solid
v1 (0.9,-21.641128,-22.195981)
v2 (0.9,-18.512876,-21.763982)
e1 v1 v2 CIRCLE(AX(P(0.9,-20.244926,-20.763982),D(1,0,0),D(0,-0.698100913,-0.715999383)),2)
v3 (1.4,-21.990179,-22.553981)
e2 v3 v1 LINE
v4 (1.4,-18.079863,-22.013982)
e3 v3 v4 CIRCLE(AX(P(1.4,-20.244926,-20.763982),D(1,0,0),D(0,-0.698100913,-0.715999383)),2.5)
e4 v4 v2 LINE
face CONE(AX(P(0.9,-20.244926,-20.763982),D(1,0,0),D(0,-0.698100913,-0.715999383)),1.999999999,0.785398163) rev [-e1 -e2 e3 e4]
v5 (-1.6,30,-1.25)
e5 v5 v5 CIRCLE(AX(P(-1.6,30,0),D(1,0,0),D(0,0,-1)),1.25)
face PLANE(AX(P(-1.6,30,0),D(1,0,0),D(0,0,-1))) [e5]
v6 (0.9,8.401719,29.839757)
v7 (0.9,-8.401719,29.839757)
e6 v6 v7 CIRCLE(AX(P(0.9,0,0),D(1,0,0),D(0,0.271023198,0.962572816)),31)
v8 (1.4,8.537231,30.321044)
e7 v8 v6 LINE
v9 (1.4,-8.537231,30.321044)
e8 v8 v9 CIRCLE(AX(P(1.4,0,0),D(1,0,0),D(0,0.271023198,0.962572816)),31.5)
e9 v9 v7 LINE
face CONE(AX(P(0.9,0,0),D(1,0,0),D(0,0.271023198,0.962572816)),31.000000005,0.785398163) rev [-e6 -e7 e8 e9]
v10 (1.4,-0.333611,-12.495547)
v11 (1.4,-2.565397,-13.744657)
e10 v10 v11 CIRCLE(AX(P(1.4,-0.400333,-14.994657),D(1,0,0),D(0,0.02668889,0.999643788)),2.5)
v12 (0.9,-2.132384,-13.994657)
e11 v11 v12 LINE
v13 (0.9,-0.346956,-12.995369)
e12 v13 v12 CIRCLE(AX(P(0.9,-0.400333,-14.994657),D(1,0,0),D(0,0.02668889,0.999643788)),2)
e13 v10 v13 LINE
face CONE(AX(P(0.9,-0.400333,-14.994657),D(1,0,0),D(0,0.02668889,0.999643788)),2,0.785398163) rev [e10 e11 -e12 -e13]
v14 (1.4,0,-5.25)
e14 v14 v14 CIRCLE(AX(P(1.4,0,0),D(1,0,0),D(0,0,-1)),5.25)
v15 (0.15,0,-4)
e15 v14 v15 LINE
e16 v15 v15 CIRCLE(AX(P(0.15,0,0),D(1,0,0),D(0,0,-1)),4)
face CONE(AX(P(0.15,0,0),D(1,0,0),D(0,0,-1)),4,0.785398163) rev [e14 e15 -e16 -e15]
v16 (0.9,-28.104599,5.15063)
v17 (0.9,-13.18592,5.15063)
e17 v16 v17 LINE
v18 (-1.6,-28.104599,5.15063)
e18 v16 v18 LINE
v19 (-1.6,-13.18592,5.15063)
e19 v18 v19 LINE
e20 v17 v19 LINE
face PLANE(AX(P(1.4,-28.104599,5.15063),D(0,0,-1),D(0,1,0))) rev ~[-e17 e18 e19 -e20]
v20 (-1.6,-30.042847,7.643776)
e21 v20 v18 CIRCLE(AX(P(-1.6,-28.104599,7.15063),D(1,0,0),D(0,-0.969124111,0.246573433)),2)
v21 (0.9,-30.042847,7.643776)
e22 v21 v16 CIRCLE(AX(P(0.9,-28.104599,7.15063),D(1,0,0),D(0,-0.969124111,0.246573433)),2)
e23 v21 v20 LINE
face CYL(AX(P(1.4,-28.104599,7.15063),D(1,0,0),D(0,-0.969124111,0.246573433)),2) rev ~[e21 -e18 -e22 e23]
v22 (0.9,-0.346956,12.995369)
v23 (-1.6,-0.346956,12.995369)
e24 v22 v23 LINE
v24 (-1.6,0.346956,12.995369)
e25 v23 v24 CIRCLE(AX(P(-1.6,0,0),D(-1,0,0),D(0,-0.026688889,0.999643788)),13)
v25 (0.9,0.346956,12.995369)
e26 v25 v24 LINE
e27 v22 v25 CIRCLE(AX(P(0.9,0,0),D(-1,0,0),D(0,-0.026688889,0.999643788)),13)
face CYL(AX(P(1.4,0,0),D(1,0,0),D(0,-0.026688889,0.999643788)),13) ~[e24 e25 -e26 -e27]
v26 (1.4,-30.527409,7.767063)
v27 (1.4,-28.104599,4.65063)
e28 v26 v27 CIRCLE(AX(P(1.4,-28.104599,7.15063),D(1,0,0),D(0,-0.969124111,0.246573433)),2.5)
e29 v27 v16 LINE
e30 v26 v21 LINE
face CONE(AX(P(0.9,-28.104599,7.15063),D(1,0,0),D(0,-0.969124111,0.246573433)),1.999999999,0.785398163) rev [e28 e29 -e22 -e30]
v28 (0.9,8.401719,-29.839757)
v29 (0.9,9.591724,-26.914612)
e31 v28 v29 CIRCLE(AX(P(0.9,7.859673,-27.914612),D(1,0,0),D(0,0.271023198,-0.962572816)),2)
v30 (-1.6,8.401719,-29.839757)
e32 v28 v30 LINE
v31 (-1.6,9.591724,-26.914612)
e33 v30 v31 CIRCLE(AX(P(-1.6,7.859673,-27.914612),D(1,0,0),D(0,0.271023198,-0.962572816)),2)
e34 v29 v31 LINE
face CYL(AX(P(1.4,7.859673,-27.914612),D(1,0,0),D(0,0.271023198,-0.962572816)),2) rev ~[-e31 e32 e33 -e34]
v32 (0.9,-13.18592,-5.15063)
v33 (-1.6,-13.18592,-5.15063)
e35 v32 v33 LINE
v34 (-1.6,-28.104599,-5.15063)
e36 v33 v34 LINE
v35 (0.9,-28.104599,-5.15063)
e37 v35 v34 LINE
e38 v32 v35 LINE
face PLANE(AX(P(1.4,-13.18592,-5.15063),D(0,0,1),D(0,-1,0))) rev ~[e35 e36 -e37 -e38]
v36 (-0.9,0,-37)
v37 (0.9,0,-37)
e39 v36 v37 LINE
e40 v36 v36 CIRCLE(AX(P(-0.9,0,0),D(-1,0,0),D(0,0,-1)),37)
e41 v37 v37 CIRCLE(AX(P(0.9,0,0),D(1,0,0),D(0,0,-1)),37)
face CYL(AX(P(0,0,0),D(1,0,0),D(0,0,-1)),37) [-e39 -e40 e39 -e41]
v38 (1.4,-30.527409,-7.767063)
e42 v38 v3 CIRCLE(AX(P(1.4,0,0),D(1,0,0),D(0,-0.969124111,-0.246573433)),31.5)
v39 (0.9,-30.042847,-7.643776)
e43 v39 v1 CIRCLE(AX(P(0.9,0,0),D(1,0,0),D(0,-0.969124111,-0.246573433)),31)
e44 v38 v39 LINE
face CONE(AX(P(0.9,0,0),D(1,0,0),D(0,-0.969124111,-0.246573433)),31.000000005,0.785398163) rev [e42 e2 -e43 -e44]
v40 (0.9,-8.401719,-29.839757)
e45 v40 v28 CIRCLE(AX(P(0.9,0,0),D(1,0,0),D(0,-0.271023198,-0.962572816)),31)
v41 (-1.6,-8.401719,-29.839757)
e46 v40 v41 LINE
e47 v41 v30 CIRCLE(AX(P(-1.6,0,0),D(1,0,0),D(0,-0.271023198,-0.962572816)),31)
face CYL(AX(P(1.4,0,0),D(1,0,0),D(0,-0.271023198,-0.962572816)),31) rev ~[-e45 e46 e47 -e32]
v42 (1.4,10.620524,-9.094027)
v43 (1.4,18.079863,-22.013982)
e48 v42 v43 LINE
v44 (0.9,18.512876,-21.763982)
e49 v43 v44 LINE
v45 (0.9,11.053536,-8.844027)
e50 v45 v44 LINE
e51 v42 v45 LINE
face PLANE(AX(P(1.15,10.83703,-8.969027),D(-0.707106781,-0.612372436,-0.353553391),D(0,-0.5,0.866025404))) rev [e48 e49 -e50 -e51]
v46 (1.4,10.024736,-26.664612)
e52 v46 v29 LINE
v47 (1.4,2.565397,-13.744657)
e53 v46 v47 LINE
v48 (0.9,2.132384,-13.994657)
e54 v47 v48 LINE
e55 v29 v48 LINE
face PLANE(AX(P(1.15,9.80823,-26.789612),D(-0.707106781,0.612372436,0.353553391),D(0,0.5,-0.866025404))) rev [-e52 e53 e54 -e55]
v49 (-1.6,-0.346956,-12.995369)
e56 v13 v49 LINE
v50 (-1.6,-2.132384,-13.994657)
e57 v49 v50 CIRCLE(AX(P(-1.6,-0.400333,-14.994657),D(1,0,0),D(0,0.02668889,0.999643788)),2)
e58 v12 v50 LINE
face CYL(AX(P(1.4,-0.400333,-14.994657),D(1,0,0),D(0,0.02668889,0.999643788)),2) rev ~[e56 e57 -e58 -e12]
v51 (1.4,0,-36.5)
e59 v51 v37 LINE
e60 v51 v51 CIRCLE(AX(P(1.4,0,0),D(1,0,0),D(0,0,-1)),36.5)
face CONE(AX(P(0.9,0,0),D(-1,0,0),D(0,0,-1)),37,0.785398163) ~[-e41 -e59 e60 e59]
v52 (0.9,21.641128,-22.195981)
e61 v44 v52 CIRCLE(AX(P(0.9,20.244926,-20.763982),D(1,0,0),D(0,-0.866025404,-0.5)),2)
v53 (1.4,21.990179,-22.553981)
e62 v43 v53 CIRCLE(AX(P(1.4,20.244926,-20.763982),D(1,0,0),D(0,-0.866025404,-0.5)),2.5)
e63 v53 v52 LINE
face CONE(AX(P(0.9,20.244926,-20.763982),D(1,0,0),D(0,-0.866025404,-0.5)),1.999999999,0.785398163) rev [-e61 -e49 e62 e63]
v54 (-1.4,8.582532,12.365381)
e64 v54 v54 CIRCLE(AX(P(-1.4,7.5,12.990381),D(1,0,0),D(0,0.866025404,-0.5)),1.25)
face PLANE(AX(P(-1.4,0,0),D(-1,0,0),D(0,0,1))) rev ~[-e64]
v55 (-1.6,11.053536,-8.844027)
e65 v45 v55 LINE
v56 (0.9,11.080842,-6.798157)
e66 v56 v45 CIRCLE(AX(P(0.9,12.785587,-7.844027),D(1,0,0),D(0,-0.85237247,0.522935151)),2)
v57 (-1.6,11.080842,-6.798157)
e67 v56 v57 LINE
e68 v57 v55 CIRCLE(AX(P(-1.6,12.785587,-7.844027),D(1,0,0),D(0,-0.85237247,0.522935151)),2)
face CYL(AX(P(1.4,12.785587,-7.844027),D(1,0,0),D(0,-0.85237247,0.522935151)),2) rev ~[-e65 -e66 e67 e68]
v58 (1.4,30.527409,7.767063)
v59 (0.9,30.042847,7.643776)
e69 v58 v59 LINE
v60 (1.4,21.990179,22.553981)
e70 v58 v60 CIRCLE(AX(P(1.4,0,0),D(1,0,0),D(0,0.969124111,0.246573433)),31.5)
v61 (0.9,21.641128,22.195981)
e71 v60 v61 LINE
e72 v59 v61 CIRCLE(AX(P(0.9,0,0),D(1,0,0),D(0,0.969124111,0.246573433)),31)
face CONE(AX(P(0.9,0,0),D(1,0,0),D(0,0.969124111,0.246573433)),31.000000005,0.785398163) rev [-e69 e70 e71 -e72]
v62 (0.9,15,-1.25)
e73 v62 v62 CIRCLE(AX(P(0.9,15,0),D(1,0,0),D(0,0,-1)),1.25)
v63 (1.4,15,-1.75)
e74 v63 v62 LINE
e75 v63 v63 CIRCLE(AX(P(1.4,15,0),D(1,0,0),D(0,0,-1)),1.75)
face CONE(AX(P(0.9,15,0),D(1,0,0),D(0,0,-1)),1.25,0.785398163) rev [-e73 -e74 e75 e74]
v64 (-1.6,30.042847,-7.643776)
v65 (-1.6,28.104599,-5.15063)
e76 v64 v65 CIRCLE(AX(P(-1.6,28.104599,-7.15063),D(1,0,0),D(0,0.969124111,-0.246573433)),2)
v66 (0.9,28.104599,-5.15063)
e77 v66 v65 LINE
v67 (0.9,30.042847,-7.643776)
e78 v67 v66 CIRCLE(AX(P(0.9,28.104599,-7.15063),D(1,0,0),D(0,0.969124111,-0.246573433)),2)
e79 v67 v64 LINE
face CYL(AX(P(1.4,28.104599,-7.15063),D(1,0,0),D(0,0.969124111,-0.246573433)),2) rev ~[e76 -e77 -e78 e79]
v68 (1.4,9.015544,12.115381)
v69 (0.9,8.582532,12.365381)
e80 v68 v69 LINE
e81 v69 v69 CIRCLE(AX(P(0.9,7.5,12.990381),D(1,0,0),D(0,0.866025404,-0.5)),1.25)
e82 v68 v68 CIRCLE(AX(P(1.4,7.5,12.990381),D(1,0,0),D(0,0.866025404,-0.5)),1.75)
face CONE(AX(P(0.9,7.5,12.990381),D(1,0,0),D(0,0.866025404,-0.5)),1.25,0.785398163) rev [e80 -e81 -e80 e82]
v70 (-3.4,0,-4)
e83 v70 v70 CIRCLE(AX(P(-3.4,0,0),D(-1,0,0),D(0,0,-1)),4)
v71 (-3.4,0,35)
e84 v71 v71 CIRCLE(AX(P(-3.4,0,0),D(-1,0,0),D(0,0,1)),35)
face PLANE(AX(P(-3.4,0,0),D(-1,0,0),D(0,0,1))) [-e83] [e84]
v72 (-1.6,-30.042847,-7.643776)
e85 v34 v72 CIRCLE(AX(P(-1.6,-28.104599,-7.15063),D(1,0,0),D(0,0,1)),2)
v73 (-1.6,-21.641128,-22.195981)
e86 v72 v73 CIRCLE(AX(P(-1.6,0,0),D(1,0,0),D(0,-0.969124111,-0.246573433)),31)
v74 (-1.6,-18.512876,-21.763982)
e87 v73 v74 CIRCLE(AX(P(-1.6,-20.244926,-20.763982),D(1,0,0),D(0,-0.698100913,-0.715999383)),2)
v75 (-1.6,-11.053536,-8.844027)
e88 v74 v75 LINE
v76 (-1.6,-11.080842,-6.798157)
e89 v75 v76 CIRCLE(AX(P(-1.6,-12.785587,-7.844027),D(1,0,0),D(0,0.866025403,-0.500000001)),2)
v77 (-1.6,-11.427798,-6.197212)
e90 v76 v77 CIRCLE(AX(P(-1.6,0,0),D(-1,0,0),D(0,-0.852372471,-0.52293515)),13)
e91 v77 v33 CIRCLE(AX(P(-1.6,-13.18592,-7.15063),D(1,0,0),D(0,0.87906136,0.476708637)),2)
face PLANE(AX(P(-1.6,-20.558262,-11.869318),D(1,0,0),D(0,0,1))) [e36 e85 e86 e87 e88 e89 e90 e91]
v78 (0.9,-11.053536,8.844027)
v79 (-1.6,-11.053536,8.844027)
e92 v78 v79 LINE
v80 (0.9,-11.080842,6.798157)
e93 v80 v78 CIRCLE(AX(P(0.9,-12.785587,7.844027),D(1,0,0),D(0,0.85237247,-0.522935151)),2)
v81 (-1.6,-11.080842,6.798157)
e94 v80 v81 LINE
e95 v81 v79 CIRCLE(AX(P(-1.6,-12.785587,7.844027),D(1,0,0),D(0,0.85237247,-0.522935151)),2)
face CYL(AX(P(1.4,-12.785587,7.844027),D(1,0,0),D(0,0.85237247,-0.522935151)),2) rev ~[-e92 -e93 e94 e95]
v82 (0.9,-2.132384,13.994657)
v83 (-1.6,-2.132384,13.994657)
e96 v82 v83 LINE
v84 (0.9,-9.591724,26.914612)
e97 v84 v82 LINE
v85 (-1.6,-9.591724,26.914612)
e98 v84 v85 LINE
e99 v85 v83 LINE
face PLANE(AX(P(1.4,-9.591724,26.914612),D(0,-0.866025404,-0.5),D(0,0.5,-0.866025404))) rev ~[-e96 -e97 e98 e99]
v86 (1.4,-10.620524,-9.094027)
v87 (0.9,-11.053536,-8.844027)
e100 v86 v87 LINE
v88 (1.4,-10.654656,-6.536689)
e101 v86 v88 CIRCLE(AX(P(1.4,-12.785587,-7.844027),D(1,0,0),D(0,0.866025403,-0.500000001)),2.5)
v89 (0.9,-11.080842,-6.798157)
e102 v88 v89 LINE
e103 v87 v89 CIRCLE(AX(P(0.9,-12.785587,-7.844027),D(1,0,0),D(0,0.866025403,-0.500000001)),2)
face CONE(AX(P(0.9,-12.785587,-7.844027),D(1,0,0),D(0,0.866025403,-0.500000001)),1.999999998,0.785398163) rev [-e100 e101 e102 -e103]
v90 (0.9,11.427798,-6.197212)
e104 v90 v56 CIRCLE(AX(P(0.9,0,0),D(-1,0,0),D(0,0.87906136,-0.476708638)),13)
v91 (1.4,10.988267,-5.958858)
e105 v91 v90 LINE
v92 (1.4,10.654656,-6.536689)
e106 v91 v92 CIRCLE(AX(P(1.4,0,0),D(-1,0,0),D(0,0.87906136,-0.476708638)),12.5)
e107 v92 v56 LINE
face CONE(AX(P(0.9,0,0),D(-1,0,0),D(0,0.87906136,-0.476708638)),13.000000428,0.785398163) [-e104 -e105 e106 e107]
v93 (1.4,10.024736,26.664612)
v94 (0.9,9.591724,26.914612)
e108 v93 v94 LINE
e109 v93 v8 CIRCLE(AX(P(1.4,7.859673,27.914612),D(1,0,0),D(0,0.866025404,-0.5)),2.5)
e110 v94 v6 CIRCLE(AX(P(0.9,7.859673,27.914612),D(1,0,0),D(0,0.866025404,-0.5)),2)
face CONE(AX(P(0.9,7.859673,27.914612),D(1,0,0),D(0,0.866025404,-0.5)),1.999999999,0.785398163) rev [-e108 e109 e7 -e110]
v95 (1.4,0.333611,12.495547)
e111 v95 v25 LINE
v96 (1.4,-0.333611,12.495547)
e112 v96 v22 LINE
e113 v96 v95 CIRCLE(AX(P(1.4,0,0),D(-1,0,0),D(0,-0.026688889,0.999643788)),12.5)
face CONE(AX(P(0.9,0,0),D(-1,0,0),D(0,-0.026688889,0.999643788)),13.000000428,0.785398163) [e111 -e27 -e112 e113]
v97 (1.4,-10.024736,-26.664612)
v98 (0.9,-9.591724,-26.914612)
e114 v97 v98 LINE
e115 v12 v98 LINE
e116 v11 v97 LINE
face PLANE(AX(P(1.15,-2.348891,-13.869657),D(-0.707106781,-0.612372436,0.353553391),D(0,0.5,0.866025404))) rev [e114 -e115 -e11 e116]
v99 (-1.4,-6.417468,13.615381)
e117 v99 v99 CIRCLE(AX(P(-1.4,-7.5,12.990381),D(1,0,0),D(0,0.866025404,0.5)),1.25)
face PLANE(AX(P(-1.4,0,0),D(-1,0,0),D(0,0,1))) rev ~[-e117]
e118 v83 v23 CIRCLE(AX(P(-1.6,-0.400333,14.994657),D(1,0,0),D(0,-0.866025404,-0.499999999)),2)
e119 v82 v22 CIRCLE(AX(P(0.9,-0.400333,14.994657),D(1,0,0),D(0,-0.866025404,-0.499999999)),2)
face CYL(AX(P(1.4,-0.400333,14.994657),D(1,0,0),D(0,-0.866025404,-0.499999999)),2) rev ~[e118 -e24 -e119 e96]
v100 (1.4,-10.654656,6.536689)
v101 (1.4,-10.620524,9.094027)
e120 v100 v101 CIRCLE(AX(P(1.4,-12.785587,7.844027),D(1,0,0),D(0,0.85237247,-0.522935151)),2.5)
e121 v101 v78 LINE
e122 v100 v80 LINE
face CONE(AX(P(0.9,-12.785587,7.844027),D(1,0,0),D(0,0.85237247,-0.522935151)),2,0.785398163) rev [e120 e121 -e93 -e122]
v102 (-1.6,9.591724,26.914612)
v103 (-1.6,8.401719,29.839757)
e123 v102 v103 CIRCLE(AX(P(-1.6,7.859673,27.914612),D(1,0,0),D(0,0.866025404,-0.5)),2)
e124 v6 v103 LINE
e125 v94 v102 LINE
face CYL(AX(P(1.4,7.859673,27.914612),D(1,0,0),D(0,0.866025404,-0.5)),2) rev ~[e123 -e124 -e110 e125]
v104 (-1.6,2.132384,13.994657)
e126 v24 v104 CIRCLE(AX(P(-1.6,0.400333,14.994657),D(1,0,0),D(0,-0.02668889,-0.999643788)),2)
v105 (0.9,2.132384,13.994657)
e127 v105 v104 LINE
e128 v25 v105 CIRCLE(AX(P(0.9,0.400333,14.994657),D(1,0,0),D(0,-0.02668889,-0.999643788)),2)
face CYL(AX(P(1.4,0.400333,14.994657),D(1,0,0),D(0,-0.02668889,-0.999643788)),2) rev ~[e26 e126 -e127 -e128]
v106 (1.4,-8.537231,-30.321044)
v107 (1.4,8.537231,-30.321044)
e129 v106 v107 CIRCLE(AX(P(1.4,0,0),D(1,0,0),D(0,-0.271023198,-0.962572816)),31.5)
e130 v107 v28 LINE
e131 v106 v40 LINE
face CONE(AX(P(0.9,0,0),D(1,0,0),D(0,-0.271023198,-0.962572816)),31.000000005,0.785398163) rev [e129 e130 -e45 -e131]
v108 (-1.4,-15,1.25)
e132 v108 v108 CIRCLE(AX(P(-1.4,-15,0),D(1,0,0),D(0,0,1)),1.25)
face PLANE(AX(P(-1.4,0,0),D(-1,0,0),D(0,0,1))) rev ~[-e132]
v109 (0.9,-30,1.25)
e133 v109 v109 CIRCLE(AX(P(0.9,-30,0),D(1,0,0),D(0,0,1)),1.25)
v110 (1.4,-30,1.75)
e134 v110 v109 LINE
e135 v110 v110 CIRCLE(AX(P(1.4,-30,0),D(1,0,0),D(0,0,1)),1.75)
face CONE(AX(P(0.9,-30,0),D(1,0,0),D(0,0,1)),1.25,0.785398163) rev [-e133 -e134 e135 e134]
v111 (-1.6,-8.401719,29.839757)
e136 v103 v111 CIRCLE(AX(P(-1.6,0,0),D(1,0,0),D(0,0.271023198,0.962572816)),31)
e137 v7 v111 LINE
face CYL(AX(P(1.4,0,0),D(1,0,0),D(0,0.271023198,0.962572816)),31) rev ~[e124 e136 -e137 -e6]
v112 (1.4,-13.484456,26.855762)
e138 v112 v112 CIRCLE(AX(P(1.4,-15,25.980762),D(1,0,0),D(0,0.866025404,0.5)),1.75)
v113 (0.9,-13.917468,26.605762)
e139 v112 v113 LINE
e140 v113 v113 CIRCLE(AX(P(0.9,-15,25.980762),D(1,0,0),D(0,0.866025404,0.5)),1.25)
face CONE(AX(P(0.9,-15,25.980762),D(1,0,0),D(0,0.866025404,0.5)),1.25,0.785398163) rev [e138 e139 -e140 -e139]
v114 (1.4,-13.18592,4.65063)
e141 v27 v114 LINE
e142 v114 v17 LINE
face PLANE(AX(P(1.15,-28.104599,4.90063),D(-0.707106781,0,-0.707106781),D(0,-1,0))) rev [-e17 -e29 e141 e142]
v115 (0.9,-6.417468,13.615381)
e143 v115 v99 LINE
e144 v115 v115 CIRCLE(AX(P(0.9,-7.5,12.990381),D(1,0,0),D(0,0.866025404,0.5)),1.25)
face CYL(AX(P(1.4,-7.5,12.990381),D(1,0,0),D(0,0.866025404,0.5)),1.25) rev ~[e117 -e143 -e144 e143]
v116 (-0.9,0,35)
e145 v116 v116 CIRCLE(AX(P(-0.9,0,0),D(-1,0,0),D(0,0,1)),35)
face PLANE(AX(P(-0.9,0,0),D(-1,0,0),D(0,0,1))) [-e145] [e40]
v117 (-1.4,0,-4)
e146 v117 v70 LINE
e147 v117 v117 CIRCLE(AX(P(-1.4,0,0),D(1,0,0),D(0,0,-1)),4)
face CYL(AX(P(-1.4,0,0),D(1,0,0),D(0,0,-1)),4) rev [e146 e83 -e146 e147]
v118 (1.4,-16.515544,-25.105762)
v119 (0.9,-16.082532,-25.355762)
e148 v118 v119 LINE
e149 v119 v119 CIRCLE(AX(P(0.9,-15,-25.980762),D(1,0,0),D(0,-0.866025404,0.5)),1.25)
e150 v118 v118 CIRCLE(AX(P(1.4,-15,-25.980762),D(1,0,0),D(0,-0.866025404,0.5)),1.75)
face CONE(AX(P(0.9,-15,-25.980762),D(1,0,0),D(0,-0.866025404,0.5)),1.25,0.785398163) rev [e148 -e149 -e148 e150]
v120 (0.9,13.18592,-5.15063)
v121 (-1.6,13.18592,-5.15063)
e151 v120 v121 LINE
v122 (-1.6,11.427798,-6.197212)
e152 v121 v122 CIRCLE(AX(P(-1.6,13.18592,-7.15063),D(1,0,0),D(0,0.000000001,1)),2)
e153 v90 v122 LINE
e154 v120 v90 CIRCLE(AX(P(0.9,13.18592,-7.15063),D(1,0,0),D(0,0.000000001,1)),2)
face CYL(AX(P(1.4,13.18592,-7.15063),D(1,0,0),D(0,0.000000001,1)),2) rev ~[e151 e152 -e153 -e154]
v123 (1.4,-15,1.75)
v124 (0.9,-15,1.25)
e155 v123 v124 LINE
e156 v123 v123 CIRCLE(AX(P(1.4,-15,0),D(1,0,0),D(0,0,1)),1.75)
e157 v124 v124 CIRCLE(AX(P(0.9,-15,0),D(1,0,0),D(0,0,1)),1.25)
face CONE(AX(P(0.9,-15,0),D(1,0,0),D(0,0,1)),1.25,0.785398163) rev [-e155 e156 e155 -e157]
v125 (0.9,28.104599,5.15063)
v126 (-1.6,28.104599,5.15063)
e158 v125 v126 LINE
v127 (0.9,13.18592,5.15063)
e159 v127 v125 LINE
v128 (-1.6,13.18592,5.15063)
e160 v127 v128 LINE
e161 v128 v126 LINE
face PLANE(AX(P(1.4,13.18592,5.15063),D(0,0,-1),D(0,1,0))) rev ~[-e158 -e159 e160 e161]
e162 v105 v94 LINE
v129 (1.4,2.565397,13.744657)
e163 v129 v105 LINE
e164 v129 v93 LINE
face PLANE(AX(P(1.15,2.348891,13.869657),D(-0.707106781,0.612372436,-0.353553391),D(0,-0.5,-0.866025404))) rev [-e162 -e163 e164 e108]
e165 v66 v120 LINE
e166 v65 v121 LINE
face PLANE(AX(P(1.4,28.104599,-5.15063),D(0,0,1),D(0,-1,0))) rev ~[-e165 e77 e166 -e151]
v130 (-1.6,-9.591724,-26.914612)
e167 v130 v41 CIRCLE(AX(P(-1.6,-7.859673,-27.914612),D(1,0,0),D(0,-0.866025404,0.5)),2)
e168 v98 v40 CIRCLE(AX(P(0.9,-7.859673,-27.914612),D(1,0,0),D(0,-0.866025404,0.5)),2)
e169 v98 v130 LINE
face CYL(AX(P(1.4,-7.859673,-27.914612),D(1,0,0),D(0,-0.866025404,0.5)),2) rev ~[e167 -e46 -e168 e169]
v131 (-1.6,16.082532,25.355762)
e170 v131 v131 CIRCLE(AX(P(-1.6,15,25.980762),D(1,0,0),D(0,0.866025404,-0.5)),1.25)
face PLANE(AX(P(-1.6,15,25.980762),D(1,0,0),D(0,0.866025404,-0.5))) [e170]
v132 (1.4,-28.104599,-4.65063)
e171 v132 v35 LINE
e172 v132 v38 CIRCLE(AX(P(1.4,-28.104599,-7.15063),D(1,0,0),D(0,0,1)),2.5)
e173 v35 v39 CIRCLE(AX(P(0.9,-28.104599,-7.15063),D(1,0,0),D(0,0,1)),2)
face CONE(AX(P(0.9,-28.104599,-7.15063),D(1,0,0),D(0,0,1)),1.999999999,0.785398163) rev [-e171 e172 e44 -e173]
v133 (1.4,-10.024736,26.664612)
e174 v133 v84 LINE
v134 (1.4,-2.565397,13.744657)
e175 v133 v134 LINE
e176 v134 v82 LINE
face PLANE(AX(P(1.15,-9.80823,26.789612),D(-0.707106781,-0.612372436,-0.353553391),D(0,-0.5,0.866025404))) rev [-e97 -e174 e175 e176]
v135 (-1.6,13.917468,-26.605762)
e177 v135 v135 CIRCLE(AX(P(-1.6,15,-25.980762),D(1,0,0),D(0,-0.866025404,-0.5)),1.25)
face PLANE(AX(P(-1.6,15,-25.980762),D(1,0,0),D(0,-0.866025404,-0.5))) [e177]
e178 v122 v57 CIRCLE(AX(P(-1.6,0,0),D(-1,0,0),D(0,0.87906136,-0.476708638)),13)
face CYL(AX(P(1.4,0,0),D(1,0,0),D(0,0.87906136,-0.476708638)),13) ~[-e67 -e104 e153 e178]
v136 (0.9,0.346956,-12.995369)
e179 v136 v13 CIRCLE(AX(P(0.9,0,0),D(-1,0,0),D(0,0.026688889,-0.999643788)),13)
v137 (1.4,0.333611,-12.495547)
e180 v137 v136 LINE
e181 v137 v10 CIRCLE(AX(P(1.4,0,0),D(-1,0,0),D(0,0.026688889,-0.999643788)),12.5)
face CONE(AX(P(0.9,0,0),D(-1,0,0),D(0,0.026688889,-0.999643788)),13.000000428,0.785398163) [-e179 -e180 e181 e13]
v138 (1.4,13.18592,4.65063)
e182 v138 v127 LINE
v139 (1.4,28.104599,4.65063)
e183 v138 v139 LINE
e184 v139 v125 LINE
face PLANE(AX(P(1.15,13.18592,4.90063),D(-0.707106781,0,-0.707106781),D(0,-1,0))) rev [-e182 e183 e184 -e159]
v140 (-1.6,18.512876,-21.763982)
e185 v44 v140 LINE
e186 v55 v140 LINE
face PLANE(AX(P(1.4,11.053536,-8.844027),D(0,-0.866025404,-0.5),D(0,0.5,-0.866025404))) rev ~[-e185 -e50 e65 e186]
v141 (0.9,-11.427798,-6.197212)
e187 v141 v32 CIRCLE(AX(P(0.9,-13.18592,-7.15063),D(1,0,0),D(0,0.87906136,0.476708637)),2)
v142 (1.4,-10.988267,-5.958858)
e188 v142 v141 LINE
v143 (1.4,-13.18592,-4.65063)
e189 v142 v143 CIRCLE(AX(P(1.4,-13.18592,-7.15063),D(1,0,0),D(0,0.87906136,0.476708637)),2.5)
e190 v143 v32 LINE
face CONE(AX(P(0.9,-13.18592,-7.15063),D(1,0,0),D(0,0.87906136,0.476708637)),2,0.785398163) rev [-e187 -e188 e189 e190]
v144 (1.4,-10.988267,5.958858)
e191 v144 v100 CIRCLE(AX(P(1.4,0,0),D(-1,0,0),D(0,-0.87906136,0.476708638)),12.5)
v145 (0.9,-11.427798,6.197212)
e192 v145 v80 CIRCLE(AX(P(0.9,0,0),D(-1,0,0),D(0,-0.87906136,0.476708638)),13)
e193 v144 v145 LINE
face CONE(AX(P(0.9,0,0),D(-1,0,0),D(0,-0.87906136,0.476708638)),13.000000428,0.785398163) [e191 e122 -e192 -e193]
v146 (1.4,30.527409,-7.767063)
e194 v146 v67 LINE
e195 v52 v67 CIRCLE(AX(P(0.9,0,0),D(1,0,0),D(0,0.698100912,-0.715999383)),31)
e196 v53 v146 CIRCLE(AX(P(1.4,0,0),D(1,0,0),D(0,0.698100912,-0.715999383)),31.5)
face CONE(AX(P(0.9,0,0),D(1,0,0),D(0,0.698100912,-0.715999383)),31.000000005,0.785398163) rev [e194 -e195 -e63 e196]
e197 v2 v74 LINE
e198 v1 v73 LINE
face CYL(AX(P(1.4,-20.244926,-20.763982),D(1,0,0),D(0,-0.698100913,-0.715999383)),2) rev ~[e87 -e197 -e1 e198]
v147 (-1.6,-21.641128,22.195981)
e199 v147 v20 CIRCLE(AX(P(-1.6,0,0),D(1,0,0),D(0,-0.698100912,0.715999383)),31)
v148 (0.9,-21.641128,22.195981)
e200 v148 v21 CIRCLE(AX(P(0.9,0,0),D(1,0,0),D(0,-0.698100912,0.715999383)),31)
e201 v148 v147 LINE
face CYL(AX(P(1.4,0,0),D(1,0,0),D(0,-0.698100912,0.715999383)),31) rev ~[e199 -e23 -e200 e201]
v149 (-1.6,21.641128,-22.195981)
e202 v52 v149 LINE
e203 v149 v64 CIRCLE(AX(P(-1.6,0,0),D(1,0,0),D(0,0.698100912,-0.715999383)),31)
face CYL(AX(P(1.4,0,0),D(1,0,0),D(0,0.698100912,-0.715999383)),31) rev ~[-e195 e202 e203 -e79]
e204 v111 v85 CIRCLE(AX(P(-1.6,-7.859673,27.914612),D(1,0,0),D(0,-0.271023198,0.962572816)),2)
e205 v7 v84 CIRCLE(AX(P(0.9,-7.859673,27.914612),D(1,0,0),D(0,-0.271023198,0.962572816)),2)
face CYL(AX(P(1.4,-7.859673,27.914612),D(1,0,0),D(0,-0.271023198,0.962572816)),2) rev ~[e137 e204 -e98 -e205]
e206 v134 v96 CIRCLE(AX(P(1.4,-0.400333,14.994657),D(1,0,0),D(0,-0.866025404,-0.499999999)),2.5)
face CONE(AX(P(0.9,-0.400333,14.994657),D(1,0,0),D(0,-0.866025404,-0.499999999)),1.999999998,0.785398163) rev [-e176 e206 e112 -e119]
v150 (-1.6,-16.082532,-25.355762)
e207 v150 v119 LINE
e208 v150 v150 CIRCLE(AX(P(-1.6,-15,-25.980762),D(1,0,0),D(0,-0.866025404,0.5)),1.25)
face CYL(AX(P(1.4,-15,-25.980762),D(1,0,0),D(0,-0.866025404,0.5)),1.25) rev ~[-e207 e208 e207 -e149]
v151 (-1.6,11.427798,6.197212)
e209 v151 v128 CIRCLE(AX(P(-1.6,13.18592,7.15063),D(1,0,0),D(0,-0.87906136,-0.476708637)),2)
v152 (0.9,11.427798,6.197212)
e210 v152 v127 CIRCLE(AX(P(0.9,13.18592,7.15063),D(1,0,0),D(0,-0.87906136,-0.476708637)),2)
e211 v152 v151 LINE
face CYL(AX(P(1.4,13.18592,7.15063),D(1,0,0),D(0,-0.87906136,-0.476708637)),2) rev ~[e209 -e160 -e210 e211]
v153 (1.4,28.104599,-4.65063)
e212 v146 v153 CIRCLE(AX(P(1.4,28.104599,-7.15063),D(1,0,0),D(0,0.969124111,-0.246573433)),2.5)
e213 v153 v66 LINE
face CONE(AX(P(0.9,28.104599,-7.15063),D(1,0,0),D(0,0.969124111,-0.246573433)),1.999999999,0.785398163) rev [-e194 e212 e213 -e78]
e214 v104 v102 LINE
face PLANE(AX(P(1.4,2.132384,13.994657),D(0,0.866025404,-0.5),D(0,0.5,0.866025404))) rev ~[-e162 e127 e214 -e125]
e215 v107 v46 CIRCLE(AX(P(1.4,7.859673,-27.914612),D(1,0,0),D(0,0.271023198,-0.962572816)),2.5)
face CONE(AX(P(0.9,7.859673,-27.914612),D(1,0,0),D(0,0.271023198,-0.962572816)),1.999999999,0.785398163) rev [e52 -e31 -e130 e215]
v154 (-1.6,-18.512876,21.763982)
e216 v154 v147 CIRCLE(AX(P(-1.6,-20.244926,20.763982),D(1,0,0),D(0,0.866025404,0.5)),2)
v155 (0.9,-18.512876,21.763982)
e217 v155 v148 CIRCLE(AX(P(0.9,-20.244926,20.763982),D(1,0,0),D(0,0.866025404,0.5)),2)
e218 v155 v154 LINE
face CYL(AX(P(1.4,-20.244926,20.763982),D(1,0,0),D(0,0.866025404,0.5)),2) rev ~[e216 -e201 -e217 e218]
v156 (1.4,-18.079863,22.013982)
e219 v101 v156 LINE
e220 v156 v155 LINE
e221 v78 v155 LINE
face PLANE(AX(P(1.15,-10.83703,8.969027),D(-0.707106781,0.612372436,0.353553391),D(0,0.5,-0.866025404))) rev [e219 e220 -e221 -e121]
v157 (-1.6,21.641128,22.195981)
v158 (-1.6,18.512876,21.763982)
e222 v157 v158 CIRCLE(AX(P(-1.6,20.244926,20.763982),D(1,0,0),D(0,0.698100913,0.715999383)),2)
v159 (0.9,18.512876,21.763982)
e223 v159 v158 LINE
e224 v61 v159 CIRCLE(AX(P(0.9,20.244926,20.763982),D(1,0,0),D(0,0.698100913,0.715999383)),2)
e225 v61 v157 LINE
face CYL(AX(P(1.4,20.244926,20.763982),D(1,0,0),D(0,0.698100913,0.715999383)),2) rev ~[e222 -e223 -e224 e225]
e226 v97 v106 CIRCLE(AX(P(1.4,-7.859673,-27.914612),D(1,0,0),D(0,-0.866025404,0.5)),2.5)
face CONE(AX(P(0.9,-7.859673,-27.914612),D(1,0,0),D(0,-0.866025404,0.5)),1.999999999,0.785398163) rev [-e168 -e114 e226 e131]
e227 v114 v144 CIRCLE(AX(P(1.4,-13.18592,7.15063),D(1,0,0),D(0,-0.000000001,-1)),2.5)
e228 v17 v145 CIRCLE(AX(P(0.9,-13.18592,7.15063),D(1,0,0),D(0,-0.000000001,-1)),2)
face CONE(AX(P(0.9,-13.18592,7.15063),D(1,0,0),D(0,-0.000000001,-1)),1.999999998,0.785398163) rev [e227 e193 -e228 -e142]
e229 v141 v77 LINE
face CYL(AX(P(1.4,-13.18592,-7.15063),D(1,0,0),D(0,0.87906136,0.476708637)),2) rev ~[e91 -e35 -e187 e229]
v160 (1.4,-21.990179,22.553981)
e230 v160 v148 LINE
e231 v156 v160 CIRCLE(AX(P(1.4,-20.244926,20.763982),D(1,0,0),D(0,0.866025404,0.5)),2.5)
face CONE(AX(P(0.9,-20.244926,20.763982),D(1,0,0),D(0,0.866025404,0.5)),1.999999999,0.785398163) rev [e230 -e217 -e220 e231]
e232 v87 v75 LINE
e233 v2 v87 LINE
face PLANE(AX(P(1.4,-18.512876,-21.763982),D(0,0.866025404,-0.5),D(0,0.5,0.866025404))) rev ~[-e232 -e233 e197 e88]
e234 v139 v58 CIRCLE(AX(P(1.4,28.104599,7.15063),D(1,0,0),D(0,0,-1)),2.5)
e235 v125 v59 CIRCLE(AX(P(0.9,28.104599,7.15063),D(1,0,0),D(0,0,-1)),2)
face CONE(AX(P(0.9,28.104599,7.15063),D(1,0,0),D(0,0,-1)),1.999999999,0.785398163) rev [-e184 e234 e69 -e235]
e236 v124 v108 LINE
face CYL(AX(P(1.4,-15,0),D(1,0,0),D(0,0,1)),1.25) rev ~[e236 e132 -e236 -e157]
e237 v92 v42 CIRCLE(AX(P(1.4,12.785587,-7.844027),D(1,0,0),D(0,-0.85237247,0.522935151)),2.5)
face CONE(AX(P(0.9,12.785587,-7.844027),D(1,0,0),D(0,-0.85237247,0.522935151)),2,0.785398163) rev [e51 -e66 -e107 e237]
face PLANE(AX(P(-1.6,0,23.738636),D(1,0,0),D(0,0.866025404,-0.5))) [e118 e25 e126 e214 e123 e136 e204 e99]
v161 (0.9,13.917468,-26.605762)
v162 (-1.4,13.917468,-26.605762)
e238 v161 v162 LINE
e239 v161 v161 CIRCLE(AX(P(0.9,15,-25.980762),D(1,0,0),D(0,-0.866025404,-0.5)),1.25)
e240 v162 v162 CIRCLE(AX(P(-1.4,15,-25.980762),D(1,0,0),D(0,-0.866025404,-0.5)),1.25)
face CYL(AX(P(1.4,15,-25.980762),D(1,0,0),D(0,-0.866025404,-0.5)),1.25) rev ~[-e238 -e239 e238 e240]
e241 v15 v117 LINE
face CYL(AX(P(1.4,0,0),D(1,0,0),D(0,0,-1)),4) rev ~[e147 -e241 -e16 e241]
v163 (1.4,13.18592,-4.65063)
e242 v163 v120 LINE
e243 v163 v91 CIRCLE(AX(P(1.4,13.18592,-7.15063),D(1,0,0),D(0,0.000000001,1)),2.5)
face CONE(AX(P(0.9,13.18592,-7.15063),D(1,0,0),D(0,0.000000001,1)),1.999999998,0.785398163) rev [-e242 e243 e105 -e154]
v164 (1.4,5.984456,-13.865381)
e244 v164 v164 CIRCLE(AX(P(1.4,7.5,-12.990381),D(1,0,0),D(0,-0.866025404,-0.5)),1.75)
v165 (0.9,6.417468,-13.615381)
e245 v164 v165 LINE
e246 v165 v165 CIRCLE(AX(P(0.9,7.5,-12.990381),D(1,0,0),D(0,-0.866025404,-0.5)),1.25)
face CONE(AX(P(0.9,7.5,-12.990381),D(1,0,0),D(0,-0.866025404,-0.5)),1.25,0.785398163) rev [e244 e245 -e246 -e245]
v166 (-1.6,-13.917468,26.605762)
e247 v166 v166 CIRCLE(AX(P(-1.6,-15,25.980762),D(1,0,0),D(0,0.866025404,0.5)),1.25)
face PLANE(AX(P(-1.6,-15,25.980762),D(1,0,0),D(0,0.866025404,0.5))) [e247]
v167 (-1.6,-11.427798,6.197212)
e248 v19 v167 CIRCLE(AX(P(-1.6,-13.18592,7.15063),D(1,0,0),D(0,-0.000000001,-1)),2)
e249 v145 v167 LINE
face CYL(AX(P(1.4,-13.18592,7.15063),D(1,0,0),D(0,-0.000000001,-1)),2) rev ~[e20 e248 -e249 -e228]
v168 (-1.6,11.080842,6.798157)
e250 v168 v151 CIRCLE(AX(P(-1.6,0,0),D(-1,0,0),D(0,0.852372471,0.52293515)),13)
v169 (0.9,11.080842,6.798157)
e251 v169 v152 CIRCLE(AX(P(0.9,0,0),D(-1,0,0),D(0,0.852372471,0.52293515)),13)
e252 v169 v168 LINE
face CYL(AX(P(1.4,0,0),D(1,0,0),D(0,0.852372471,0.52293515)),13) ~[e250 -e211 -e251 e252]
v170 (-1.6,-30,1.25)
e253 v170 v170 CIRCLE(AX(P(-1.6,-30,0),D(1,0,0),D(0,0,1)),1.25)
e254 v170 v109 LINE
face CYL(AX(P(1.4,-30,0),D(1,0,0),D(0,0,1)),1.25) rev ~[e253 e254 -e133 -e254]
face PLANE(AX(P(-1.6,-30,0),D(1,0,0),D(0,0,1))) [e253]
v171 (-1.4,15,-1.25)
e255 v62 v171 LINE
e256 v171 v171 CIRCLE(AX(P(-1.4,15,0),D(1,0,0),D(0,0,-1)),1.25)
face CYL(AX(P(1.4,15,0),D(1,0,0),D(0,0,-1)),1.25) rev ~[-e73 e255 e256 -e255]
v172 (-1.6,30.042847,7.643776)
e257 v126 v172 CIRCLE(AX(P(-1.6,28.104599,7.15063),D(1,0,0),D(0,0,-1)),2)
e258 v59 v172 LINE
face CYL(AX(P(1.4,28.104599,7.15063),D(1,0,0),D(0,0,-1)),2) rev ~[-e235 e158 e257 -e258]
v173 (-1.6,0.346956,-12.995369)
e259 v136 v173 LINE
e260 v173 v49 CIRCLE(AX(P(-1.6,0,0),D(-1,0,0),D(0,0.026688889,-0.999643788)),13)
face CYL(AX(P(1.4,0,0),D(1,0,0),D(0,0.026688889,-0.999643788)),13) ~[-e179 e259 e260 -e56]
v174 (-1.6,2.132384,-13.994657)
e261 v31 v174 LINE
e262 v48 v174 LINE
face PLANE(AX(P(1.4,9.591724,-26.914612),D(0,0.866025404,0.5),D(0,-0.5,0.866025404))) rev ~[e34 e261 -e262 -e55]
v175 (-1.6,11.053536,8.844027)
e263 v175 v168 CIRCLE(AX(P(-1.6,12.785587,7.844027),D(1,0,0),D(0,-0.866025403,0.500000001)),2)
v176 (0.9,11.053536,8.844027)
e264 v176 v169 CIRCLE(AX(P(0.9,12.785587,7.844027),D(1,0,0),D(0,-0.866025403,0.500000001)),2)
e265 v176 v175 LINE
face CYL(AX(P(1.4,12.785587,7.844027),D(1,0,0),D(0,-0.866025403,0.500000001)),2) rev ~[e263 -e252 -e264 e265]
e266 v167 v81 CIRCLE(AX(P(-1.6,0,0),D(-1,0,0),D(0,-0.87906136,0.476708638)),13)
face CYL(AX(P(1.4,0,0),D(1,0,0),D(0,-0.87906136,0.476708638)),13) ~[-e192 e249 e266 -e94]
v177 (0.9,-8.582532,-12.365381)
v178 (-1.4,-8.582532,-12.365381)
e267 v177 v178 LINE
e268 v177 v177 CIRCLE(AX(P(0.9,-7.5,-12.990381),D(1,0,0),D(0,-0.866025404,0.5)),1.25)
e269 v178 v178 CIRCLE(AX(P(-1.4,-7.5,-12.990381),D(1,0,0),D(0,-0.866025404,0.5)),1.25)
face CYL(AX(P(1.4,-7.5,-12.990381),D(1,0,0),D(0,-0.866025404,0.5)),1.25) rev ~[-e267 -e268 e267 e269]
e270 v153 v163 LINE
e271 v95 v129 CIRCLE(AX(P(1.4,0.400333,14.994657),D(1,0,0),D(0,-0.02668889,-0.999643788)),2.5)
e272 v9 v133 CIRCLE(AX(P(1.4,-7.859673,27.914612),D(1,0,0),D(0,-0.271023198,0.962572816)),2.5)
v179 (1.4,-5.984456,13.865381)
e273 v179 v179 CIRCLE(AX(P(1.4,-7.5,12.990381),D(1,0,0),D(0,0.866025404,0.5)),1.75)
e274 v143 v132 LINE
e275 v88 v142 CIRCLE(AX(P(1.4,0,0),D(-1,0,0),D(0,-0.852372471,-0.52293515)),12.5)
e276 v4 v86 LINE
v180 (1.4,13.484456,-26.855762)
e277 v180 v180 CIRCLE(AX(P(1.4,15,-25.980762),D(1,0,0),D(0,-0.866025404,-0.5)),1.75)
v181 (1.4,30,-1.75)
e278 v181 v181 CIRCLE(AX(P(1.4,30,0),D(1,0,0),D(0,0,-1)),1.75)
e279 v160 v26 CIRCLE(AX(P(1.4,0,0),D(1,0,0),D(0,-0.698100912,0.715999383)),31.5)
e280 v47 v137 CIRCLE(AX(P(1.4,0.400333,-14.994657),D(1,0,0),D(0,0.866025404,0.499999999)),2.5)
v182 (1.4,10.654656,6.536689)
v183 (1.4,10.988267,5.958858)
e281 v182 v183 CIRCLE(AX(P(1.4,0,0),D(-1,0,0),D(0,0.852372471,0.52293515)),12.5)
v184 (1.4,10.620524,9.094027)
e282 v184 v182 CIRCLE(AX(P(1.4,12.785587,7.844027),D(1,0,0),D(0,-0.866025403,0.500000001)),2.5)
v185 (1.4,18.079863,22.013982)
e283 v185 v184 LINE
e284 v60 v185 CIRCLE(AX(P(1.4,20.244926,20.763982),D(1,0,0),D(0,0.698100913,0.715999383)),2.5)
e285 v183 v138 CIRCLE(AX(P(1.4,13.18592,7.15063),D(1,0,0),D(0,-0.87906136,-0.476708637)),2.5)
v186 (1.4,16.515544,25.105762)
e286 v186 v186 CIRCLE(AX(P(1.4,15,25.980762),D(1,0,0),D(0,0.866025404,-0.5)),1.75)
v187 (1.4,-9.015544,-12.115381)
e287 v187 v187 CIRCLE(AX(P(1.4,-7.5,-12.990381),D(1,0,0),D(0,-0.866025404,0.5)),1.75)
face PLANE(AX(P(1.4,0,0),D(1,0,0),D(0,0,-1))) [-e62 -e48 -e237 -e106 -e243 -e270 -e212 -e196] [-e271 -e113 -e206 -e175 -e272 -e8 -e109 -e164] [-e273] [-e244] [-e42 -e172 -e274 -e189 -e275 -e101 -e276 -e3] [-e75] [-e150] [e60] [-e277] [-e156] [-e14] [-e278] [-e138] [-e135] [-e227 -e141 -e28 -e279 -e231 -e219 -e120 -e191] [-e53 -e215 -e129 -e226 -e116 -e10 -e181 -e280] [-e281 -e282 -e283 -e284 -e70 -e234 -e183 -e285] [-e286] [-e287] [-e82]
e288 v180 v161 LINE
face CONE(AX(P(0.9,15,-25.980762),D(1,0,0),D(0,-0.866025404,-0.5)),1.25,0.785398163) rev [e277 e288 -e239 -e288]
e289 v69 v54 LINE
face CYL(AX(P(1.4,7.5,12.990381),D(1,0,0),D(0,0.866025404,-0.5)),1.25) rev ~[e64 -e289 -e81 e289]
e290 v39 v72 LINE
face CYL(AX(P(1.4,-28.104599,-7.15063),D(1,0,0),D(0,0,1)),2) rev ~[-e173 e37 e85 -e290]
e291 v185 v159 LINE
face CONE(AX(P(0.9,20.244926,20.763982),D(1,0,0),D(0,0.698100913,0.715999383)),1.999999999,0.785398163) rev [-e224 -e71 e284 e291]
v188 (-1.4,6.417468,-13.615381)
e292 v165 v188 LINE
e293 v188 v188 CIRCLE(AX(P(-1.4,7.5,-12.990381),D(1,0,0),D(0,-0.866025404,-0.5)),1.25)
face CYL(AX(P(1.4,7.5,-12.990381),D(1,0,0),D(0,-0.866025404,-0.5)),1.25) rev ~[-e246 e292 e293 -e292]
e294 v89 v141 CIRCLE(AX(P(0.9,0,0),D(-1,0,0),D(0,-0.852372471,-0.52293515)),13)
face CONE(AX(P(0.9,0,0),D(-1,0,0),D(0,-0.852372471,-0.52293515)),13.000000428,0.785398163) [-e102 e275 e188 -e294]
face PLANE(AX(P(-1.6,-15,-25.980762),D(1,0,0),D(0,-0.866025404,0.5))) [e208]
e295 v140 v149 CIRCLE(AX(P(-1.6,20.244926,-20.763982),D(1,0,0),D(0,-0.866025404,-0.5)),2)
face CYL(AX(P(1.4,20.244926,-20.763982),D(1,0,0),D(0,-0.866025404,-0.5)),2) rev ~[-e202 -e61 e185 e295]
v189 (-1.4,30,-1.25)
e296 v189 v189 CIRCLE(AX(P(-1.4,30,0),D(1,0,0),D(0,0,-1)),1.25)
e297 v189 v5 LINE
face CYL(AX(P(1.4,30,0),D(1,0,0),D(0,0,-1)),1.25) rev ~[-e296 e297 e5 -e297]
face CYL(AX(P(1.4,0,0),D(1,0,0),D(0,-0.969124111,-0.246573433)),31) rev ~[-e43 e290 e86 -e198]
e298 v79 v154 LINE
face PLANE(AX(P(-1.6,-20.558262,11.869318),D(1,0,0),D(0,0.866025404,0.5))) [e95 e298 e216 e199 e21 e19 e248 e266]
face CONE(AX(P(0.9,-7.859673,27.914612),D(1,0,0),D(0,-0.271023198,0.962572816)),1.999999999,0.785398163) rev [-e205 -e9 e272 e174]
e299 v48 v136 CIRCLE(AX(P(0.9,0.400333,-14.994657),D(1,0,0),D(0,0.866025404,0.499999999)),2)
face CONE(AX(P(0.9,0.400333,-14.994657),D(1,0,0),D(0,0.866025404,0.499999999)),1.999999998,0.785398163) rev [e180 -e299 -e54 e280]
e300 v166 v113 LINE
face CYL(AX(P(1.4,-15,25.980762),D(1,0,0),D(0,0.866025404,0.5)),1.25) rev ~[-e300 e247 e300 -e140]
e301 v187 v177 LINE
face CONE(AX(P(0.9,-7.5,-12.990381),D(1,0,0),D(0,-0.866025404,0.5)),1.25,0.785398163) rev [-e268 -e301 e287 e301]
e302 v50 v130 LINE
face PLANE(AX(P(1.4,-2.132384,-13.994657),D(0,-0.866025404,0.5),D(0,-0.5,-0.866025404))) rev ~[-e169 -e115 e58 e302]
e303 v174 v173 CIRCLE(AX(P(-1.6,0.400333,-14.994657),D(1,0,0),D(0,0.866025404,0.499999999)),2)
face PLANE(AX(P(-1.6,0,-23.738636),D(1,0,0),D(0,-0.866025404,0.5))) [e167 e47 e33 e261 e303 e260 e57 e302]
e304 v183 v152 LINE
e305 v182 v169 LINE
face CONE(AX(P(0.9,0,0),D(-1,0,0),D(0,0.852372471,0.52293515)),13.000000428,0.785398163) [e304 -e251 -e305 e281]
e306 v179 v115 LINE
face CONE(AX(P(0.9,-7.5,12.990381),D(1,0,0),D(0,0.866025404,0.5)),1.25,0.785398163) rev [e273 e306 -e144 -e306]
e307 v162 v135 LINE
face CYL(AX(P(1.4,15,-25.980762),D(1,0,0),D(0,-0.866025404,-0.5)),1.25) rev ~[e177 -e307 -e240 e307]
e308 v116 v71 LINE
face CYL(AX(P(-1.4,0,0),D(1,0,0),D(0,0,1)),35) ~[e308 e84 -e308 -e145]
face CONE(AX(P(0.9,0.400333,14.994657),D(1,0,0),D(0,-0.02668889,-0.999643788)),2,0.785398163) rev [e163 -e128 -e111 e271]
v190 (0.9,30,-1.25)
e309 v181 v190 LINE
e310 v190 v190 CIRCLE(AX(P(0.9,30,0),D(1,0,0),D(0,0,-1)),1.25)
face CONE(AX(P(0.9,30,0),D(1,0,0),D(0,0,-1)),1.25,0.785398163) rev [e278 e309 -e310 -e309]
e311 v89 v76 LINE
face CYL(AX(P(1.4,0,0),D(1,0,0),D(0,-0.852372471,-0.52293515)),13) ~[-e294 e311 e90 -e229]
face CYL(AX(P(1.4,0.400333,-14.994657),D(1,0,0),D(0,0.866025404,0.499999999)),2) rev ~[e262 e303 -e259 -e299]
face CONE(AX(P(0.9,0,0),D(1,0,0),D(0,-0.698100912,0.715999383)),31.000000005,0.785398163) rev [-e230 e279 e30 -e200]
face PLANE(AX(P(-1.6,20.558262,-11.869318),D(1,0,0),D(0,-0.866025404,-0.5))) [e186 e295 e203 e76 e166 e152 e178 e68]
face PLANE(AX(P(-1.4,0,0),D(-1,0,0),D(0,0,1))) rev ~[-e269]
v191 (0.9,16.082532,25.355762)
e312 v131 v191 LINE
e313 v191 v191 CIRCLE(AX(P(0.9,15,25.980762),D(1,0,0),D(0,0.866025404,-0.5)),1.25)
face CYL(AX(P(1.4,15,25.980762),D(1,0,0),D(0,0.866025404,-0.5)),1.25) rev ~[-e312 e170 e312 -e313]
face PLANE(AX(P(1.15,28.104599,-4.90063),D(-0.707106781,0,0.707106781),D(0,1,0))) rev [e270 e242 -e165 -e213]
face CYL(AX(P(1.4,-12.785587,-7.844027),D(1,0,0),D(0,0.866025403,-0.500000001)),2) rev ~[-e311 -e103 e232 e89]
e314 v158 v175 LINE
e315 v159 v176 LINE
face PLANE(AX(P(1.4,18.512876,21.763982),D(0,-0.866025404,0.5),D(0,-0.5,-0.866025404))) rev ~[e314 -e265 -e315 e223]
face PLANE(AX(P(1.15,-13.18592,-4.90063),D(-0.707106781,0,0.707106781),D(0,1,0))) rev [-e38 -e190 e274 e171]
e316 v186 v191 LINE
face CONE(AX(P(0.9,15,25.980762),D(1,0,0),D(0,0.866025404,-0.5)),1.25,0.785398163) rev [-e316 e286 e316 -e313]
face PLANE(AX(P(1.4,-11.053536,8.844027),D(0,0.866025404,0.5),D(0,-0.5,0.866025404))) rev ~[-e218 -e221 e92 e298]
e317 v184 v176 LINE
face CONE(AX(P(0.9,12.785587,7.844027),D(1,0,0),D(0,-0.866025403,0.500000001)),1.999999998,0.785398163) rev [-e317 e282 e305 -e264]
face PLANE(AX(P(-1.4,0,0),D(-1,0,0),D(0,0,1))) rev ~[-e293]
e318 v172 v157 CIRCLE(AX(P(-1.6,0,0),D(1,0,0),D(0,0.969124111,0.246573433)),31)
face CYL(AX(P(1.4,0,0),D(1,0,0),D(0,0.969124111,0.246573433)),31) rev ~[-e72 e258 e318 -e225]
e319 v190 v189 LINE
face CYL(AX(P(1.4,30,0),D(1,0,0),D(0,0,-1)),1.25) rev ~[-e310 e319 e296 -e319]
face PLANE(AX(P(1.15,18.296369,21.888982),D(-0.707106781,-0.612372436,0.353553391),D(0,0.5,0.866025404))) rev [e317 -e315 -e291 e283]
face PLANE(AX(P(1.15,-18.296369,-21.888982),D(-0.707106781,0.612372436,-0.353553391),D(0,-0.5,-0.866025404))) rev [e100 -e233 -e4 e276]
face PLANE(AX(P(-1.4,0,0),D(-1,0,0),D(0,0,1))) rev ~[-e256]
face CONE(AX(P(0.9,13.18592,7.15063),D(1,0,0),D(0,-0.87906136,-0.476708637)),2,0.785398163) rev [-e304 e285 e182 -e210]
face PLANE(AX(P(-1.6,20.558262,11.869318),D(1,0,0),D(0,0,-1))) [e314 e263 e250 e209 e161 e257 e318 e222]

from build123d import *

# Parameters (mm, degrees)
SKETCH1_R                    = 37
BOSS_EXTRUDE1_DEPTH          = 1.4
SKETCH2_R                    = 1.25
CUT_EXTRUDE1_DEPTH           = 3
CHAMFER1_SIZE                = 0.5
CIRPATTERN1_COUNT            = 6
CHAMFER1_OF_CIRPATTERN1_SIZE = 0.5
CHAMFER2_SIZE                = 0.5
SKETCH3_R                    = 1.25
CUT_EXTRUDE2_DEPTH           = 3
CHAMFER3_SIZE                = 0.5
CIRPATTERN2_COUNT            = 6
CHAMFER3_OF_CIRPATTERN2_SIZE = 0.5
SKETCH4_R                    = 4
CUT_EXTRUDE3_DEPTH           = 2.8
CHAMFER4_SIZE                = 1.25
SKETCH5_R                    = 35
SKETCH5_R_2                  = 4
BOSS_EXTRUDE2_DEPTH          = 2
CUT_EXTRUDE4_START           = -0.5
SKETCH6_R                    = 37
SKETCH6_R_2                  = 35
CUT_EXTRUDE4_DEPTH           = 0.5
CUT_EXTRUDE5_DEPTH           = 3
CHAMFER5_SIZE                = 0.5
CIRPATTERN3_COUNT            = 6
CHAMFER5_OF_CIRPATTERN3_SIZE = 0.5
SKETCH2_2_R                  = 1.25
CUT_EXTRUDE6_DEPTH           = 3
CIRPATTERN4_COUNT            = 6


with BuildPart() as part:
    # Sketch1 → Boss-Extrude1 (new, symmetric)
    with BuildSketch(Plane(origin=(0, 0, 0), x_dir=(0, 0, -1), z_dir=(1, 0, 0))):
        Circle(SKETCH1_R)
    extrude(amount=BOSS_EXTRUDE1_DEPTH, both=True)

    # Sketch2 → Cut-Extrude1 (cut)
    with BuildSketch(Plane(origin=(1.4, 0, 0), x_dir=(0, 0, -1), z_dir=(1, 0, 0))):
        with Locations((0, 30)):
            Circle(SKETCH2_R)
    cut_extrude1 = extrude(amount=-CUT_EXTRUDE1_DEPTH, mode=Mode.SUBTRACT)

    # Chamfer1
    chamfer1_edges = [part.edges().sort_by_distance(p)[0] for p in [
        (1.4, 30, 1.25),
    ]]
    chamfer(chamfer1_edges, length=CHAMFER1_SIZE)

    # CirPattern1: Cut-Extrude1 ×6 about axis
    cirpattern1_axis = Axis((0, 0, 0), (1, 0, 0))
    for i in range(1, CIRPATTERN1_COUNT):
        add(cut_extrude1.rotate(cirpattern1_axis, i * 360 / CIRPATTERN1_COUNT), mode=Mode.SUBTRACT)

    # Chamfer1 of CirPattern1
    chamfer1_of_cirpattern1_edges = [part.edges().sort_by_distance(p)[0] for p in [
        (1.4, 13.917468245, 26.605762114),
        (1.4, -16.082531755, 25.355762114),
        (1.4, -30, -1.25),
        (1.4, -13.917468245, -26.605762114),
        (1.4, 16.082531755, -25.355762114),
    ]]
    chamfer(chamfer1_of_cirpattern1_edges, length=CHAMFER1_OF_CIRPATTERN1_SIZE)

    # Chamfer2
    chamfer2_edges = [part.edges().sort_by_distance(p)[0] for p in [
        (1.4, 0, 37),
    ]]
    chamfer(chamfer2_edges, length=CHAMFER2_SIZE)

    # Sketch3 → Cut-Extrude2 (cut)
    with BuildSketch(Plane(origin=(1.4, 0, 0), x_dir=(0, 0, -1), z_dir=(1, 0, 0))):
        with Locations((0, 15)):
            Circle(SKETCH3_R)
    cut_extrude2 = extrude(amount=-CUT_EXTRUDE2_DEPTH, mode=Mode.SUBTRACT)

    # Chamfer3
    chamfer3_edges = [part.edges().sort_by_distance(p)[0] for p in [
        (1.4, 15, 1.25),
    ]]
    chamfer(chamfer3_edges, length=CHAMFER3_SIZE)

    # CirPattern2: Cut-Extrude2 ×6 about axis
    cirpattern2_axis = Axis((0, 0, 0), (1, 0, 0))
    for i in range(1, CIRPATTERN2_COUNT):
        add(cut_extrude2.rotate(cirpattern2_axis, i * 360 / CIRPATTERN2_COUNT), mode=Mode.SUBTRACT)

    # Chamfer3 of CirPattern2
    chamfer3_of_cirpattern2_edges = [part.edges().sort_by_distance(p)[0] for p in [
        (1.4, 6.417468245, 13.615381057),
        (1.4, -8.582531755, 12.365381057),
        (1.4, -15, -1.25),
        (1.4, -6.417468245, -13.615381057),
        (1.4, 8.582531755, -12.365381057),
    ]]
    chamfer(chamfer3_of_cirpattern2_edges, length=CHAMFER3_OF_CIRPATTERN2_SIZE)

    # Sketch4 → Cut-Extrude3 (cut)
    with BuildSketch(Plane(origin=(1.4, 0, 0), x_dir=(0, 0, -1), z_dir=(1, 0, 0))):
        Circle(SKETCH4_R)
    extrude(amount=-CUT_EXTRUDE3_DEPTH, mode=Mode.SUBTRACT)

    # Chamfer4
    chamfer4_edges = [part.edges().sort_by_distance(p)[0] for p in [
        (1.4, 0, 4),
    ]]
    chamfer(chamfer4_edges, length=CHAMFER4_SIZE)

    # Sketch5 → Boss-Extrude2 (add)
    with BuildSketch(Plane.ZY.offset(1.4)):
        Circle(SKETCH5_R)
        with Locations(Location((0, 0, 0), (0, 0, 180))):
            Circle(SKETCH5_R_2, mode=Mode.SUBTRACT)
    extrude(amount=BOSS_EXTRUDE2_DEPTH)

    # Sketch6 → Cut-Extrude4 (cut)
    with BuildSketch(Plane.ZY.offset(1.4).offset(CUT_EXTRUDE4_START)):
        Circle(SKETCH6_R)
        Circle(SKETCH6_R_2, mode=Mode.SUBTRACT)
    extrude(amount=CUT_EXTRUDE4_DEPTH, mode=Mode.SUBTRACT)

    # Sketch7 → Cut-Extrude5 (cut)
    with BuildSketch(Plane(origin=(1.4, 0, 0), x_dir=(0, 0, -1), z_dir=(1, 0, 0))):
        with BuildLine():
            Line((-5.150629559, 13.185920405), (-5.150629559, 28.104599213))
            ThreePointArc((-5.150629559, 28.104599213), (-5.923090095, 29.683569404), (-7.643776425, 30.042847434))
            ThreePointArc((-7.643776425, 30.042847434), (-15.5, 26.846787517), (-22.195980868, 21.641128282))
            ThreePointArc((-22.195980868, 21.641128282), (-22.745180132, 19.971331194), (-21.763982102, 18.51287565))
            Line((-21.763982102, 18.51287565), (-8.844027263, 11.053536246))
            ThreePointArc((-8.844027263, 11.053536246), (-7.817335996, 10.785765167), (-6.798156961, 11.080842113))
            ThreePointArc((-6.798156961, 11.080842113), (-6.5, 11.258330249), (-6.197212284, 11.427797684))
            ThreePointArc((-6.197212284, 11.427797684), (-5.432078636, 12.162894146), (-5.150629559, 13.185920405))
        make_face()
    cut_extrude5 = extrude(amount=-CUT_EXTRUDE5_DEPTH, mode=Mode.SUBTRACT)

    # Chamfer5
    chamfer5_edges = [part.edges().sort_by_distance(p)[0] for p in [
        (1.4, 29.683569404, 5.923090095),
        (1.4, 26.846787517, 15.5),
        (1.4, 19.971331194, 22.745180132),
        (1.4, 14.783205948, 15.304004683),
        (1.4, 10.785765167, 7.817335996),
        (1.4, 11.258330249, 6.5),
        (1.4, 12.162894146, 5.432078636),
        (1.4, 20.645259809, 5.150629559),
    ]]
    chamfer(chamfer5_edges, length=CHAMFER5_SIZE)

    # CirPattern3: Cut-Extrude5 ×6 about axis
    cirpattern3_axis = Axis((0, 0, 0), (1, 0, 0))
    for i in range(1, CIRPATTERN3_COUNT):
        add(cut_extrude5.rotate(cirpattern3_axis, i * 360 / CIRPATTERN3_COUNT), mode=Mode.SUBTRACT)

    # Chamfer5 of CirPattern3
    chamfer5_of_cirpattern3_edges = [part.edges().sort_by_distance(p)[0] for p in [
        (1.4, 9.712238211, 28.668270227),
        (1.4, 0, 31),
        (1.4, -9.712238211, 28.668270227),
        (1.4, -5.862053861, 20.454634241),
        (1.4, -1.377128979, 13.249414632),
        (1.4, 0, 13),
        (1.4, 1.377128979, 13.249414632),
        (1.4, 5.862053861, 20.454634241),
        (1.4, -19.971331194, 22.745180132),
        (1.4, -26.846787517, 15.5),
        (1.4, -29.683569405, 5.923090095),
        (1.4, -20.645259809, 5.150629559),
        (1.4, -12.162894146, 5.432078636),
        (1.4, -11.258330249, 6.5),
        (1.4, -10.785765167, 7.817335996),
        (1.4, -14.783205948, 15.304004683),
        (1.4, -29.683569404, -5.923090095),
        (1.4, -26.846787517, -15.5),
        (1.4, -19.971331194, -22.745180132),
        (1.4, -14.783205948, -15.304004683),
        (1.4, -10.785765167, -7.817335996),
        (1.4, -11.258330249, -6.5),
        (1.4, -12.162894146, -5.432078636),
        (1.4, -20.645259809, -5.150629559),
        (1.4, -9.712238211, -28.668270227),
        (1.4, 0, -31),
        (1.4, 9.712238211, -28.668270227),
        (1.4, 5.862053861, -20.454634241),
        (1.4, 1.377128979, -13.249414632),
        (1.4, 0, -13),
        (1.4, -1.377128979, -13.249414632),
        (1.4, -5.862053861, -20.454634241),
        (1.4, 19.971331194, -22.745180132),
        (1.4, 26.846787517, -15.5),
        (1.4, 29.683569405, -5.923090095),
        (1.4, 20.645259809, -5.150629559),
        (1.4, 12.162894146, -5.432078636),
        (1.4, 11.258330249, -6.5),
        (1.4, 10.785765167, -7.817335996),
        (1.4, 14.783205948, -15.304004683),
    ]]
    chamfer(chamfer5_of_cirpattern3_edges, length=CHAMFER5_OF_CIRPATTERN3_SIZE)

    # Sketch2<2> → Cut-Extrude6 (cut)
    with BuildSketch(Plane(origin=(1.4, 0, 0), x_dir=(0, 0, -1), z_dir=(1, 0, 0))):
        with Locations((0, 30)):
            Circle(SKETCH2_2_R)
    cut_extrude6 = extrude(amount=-CUT_EXTRUDE6_DEPTH, mode=Mode.SUBTRACT)

    # CirPattern4: Cut-Extrude6 ×6 about axis
    cirpattern4_axis = Axis((1.4, 0, 0), (-1, 0, 0))
    for i in range(1, CIRPATTERN4_COUNT):
        add(cut_extrude6.rotate(cirpattern4_axis, i * 360 / CIRPATTERN4_COUNT), mode=Mode.SUBTRACT)


solid = part.part
